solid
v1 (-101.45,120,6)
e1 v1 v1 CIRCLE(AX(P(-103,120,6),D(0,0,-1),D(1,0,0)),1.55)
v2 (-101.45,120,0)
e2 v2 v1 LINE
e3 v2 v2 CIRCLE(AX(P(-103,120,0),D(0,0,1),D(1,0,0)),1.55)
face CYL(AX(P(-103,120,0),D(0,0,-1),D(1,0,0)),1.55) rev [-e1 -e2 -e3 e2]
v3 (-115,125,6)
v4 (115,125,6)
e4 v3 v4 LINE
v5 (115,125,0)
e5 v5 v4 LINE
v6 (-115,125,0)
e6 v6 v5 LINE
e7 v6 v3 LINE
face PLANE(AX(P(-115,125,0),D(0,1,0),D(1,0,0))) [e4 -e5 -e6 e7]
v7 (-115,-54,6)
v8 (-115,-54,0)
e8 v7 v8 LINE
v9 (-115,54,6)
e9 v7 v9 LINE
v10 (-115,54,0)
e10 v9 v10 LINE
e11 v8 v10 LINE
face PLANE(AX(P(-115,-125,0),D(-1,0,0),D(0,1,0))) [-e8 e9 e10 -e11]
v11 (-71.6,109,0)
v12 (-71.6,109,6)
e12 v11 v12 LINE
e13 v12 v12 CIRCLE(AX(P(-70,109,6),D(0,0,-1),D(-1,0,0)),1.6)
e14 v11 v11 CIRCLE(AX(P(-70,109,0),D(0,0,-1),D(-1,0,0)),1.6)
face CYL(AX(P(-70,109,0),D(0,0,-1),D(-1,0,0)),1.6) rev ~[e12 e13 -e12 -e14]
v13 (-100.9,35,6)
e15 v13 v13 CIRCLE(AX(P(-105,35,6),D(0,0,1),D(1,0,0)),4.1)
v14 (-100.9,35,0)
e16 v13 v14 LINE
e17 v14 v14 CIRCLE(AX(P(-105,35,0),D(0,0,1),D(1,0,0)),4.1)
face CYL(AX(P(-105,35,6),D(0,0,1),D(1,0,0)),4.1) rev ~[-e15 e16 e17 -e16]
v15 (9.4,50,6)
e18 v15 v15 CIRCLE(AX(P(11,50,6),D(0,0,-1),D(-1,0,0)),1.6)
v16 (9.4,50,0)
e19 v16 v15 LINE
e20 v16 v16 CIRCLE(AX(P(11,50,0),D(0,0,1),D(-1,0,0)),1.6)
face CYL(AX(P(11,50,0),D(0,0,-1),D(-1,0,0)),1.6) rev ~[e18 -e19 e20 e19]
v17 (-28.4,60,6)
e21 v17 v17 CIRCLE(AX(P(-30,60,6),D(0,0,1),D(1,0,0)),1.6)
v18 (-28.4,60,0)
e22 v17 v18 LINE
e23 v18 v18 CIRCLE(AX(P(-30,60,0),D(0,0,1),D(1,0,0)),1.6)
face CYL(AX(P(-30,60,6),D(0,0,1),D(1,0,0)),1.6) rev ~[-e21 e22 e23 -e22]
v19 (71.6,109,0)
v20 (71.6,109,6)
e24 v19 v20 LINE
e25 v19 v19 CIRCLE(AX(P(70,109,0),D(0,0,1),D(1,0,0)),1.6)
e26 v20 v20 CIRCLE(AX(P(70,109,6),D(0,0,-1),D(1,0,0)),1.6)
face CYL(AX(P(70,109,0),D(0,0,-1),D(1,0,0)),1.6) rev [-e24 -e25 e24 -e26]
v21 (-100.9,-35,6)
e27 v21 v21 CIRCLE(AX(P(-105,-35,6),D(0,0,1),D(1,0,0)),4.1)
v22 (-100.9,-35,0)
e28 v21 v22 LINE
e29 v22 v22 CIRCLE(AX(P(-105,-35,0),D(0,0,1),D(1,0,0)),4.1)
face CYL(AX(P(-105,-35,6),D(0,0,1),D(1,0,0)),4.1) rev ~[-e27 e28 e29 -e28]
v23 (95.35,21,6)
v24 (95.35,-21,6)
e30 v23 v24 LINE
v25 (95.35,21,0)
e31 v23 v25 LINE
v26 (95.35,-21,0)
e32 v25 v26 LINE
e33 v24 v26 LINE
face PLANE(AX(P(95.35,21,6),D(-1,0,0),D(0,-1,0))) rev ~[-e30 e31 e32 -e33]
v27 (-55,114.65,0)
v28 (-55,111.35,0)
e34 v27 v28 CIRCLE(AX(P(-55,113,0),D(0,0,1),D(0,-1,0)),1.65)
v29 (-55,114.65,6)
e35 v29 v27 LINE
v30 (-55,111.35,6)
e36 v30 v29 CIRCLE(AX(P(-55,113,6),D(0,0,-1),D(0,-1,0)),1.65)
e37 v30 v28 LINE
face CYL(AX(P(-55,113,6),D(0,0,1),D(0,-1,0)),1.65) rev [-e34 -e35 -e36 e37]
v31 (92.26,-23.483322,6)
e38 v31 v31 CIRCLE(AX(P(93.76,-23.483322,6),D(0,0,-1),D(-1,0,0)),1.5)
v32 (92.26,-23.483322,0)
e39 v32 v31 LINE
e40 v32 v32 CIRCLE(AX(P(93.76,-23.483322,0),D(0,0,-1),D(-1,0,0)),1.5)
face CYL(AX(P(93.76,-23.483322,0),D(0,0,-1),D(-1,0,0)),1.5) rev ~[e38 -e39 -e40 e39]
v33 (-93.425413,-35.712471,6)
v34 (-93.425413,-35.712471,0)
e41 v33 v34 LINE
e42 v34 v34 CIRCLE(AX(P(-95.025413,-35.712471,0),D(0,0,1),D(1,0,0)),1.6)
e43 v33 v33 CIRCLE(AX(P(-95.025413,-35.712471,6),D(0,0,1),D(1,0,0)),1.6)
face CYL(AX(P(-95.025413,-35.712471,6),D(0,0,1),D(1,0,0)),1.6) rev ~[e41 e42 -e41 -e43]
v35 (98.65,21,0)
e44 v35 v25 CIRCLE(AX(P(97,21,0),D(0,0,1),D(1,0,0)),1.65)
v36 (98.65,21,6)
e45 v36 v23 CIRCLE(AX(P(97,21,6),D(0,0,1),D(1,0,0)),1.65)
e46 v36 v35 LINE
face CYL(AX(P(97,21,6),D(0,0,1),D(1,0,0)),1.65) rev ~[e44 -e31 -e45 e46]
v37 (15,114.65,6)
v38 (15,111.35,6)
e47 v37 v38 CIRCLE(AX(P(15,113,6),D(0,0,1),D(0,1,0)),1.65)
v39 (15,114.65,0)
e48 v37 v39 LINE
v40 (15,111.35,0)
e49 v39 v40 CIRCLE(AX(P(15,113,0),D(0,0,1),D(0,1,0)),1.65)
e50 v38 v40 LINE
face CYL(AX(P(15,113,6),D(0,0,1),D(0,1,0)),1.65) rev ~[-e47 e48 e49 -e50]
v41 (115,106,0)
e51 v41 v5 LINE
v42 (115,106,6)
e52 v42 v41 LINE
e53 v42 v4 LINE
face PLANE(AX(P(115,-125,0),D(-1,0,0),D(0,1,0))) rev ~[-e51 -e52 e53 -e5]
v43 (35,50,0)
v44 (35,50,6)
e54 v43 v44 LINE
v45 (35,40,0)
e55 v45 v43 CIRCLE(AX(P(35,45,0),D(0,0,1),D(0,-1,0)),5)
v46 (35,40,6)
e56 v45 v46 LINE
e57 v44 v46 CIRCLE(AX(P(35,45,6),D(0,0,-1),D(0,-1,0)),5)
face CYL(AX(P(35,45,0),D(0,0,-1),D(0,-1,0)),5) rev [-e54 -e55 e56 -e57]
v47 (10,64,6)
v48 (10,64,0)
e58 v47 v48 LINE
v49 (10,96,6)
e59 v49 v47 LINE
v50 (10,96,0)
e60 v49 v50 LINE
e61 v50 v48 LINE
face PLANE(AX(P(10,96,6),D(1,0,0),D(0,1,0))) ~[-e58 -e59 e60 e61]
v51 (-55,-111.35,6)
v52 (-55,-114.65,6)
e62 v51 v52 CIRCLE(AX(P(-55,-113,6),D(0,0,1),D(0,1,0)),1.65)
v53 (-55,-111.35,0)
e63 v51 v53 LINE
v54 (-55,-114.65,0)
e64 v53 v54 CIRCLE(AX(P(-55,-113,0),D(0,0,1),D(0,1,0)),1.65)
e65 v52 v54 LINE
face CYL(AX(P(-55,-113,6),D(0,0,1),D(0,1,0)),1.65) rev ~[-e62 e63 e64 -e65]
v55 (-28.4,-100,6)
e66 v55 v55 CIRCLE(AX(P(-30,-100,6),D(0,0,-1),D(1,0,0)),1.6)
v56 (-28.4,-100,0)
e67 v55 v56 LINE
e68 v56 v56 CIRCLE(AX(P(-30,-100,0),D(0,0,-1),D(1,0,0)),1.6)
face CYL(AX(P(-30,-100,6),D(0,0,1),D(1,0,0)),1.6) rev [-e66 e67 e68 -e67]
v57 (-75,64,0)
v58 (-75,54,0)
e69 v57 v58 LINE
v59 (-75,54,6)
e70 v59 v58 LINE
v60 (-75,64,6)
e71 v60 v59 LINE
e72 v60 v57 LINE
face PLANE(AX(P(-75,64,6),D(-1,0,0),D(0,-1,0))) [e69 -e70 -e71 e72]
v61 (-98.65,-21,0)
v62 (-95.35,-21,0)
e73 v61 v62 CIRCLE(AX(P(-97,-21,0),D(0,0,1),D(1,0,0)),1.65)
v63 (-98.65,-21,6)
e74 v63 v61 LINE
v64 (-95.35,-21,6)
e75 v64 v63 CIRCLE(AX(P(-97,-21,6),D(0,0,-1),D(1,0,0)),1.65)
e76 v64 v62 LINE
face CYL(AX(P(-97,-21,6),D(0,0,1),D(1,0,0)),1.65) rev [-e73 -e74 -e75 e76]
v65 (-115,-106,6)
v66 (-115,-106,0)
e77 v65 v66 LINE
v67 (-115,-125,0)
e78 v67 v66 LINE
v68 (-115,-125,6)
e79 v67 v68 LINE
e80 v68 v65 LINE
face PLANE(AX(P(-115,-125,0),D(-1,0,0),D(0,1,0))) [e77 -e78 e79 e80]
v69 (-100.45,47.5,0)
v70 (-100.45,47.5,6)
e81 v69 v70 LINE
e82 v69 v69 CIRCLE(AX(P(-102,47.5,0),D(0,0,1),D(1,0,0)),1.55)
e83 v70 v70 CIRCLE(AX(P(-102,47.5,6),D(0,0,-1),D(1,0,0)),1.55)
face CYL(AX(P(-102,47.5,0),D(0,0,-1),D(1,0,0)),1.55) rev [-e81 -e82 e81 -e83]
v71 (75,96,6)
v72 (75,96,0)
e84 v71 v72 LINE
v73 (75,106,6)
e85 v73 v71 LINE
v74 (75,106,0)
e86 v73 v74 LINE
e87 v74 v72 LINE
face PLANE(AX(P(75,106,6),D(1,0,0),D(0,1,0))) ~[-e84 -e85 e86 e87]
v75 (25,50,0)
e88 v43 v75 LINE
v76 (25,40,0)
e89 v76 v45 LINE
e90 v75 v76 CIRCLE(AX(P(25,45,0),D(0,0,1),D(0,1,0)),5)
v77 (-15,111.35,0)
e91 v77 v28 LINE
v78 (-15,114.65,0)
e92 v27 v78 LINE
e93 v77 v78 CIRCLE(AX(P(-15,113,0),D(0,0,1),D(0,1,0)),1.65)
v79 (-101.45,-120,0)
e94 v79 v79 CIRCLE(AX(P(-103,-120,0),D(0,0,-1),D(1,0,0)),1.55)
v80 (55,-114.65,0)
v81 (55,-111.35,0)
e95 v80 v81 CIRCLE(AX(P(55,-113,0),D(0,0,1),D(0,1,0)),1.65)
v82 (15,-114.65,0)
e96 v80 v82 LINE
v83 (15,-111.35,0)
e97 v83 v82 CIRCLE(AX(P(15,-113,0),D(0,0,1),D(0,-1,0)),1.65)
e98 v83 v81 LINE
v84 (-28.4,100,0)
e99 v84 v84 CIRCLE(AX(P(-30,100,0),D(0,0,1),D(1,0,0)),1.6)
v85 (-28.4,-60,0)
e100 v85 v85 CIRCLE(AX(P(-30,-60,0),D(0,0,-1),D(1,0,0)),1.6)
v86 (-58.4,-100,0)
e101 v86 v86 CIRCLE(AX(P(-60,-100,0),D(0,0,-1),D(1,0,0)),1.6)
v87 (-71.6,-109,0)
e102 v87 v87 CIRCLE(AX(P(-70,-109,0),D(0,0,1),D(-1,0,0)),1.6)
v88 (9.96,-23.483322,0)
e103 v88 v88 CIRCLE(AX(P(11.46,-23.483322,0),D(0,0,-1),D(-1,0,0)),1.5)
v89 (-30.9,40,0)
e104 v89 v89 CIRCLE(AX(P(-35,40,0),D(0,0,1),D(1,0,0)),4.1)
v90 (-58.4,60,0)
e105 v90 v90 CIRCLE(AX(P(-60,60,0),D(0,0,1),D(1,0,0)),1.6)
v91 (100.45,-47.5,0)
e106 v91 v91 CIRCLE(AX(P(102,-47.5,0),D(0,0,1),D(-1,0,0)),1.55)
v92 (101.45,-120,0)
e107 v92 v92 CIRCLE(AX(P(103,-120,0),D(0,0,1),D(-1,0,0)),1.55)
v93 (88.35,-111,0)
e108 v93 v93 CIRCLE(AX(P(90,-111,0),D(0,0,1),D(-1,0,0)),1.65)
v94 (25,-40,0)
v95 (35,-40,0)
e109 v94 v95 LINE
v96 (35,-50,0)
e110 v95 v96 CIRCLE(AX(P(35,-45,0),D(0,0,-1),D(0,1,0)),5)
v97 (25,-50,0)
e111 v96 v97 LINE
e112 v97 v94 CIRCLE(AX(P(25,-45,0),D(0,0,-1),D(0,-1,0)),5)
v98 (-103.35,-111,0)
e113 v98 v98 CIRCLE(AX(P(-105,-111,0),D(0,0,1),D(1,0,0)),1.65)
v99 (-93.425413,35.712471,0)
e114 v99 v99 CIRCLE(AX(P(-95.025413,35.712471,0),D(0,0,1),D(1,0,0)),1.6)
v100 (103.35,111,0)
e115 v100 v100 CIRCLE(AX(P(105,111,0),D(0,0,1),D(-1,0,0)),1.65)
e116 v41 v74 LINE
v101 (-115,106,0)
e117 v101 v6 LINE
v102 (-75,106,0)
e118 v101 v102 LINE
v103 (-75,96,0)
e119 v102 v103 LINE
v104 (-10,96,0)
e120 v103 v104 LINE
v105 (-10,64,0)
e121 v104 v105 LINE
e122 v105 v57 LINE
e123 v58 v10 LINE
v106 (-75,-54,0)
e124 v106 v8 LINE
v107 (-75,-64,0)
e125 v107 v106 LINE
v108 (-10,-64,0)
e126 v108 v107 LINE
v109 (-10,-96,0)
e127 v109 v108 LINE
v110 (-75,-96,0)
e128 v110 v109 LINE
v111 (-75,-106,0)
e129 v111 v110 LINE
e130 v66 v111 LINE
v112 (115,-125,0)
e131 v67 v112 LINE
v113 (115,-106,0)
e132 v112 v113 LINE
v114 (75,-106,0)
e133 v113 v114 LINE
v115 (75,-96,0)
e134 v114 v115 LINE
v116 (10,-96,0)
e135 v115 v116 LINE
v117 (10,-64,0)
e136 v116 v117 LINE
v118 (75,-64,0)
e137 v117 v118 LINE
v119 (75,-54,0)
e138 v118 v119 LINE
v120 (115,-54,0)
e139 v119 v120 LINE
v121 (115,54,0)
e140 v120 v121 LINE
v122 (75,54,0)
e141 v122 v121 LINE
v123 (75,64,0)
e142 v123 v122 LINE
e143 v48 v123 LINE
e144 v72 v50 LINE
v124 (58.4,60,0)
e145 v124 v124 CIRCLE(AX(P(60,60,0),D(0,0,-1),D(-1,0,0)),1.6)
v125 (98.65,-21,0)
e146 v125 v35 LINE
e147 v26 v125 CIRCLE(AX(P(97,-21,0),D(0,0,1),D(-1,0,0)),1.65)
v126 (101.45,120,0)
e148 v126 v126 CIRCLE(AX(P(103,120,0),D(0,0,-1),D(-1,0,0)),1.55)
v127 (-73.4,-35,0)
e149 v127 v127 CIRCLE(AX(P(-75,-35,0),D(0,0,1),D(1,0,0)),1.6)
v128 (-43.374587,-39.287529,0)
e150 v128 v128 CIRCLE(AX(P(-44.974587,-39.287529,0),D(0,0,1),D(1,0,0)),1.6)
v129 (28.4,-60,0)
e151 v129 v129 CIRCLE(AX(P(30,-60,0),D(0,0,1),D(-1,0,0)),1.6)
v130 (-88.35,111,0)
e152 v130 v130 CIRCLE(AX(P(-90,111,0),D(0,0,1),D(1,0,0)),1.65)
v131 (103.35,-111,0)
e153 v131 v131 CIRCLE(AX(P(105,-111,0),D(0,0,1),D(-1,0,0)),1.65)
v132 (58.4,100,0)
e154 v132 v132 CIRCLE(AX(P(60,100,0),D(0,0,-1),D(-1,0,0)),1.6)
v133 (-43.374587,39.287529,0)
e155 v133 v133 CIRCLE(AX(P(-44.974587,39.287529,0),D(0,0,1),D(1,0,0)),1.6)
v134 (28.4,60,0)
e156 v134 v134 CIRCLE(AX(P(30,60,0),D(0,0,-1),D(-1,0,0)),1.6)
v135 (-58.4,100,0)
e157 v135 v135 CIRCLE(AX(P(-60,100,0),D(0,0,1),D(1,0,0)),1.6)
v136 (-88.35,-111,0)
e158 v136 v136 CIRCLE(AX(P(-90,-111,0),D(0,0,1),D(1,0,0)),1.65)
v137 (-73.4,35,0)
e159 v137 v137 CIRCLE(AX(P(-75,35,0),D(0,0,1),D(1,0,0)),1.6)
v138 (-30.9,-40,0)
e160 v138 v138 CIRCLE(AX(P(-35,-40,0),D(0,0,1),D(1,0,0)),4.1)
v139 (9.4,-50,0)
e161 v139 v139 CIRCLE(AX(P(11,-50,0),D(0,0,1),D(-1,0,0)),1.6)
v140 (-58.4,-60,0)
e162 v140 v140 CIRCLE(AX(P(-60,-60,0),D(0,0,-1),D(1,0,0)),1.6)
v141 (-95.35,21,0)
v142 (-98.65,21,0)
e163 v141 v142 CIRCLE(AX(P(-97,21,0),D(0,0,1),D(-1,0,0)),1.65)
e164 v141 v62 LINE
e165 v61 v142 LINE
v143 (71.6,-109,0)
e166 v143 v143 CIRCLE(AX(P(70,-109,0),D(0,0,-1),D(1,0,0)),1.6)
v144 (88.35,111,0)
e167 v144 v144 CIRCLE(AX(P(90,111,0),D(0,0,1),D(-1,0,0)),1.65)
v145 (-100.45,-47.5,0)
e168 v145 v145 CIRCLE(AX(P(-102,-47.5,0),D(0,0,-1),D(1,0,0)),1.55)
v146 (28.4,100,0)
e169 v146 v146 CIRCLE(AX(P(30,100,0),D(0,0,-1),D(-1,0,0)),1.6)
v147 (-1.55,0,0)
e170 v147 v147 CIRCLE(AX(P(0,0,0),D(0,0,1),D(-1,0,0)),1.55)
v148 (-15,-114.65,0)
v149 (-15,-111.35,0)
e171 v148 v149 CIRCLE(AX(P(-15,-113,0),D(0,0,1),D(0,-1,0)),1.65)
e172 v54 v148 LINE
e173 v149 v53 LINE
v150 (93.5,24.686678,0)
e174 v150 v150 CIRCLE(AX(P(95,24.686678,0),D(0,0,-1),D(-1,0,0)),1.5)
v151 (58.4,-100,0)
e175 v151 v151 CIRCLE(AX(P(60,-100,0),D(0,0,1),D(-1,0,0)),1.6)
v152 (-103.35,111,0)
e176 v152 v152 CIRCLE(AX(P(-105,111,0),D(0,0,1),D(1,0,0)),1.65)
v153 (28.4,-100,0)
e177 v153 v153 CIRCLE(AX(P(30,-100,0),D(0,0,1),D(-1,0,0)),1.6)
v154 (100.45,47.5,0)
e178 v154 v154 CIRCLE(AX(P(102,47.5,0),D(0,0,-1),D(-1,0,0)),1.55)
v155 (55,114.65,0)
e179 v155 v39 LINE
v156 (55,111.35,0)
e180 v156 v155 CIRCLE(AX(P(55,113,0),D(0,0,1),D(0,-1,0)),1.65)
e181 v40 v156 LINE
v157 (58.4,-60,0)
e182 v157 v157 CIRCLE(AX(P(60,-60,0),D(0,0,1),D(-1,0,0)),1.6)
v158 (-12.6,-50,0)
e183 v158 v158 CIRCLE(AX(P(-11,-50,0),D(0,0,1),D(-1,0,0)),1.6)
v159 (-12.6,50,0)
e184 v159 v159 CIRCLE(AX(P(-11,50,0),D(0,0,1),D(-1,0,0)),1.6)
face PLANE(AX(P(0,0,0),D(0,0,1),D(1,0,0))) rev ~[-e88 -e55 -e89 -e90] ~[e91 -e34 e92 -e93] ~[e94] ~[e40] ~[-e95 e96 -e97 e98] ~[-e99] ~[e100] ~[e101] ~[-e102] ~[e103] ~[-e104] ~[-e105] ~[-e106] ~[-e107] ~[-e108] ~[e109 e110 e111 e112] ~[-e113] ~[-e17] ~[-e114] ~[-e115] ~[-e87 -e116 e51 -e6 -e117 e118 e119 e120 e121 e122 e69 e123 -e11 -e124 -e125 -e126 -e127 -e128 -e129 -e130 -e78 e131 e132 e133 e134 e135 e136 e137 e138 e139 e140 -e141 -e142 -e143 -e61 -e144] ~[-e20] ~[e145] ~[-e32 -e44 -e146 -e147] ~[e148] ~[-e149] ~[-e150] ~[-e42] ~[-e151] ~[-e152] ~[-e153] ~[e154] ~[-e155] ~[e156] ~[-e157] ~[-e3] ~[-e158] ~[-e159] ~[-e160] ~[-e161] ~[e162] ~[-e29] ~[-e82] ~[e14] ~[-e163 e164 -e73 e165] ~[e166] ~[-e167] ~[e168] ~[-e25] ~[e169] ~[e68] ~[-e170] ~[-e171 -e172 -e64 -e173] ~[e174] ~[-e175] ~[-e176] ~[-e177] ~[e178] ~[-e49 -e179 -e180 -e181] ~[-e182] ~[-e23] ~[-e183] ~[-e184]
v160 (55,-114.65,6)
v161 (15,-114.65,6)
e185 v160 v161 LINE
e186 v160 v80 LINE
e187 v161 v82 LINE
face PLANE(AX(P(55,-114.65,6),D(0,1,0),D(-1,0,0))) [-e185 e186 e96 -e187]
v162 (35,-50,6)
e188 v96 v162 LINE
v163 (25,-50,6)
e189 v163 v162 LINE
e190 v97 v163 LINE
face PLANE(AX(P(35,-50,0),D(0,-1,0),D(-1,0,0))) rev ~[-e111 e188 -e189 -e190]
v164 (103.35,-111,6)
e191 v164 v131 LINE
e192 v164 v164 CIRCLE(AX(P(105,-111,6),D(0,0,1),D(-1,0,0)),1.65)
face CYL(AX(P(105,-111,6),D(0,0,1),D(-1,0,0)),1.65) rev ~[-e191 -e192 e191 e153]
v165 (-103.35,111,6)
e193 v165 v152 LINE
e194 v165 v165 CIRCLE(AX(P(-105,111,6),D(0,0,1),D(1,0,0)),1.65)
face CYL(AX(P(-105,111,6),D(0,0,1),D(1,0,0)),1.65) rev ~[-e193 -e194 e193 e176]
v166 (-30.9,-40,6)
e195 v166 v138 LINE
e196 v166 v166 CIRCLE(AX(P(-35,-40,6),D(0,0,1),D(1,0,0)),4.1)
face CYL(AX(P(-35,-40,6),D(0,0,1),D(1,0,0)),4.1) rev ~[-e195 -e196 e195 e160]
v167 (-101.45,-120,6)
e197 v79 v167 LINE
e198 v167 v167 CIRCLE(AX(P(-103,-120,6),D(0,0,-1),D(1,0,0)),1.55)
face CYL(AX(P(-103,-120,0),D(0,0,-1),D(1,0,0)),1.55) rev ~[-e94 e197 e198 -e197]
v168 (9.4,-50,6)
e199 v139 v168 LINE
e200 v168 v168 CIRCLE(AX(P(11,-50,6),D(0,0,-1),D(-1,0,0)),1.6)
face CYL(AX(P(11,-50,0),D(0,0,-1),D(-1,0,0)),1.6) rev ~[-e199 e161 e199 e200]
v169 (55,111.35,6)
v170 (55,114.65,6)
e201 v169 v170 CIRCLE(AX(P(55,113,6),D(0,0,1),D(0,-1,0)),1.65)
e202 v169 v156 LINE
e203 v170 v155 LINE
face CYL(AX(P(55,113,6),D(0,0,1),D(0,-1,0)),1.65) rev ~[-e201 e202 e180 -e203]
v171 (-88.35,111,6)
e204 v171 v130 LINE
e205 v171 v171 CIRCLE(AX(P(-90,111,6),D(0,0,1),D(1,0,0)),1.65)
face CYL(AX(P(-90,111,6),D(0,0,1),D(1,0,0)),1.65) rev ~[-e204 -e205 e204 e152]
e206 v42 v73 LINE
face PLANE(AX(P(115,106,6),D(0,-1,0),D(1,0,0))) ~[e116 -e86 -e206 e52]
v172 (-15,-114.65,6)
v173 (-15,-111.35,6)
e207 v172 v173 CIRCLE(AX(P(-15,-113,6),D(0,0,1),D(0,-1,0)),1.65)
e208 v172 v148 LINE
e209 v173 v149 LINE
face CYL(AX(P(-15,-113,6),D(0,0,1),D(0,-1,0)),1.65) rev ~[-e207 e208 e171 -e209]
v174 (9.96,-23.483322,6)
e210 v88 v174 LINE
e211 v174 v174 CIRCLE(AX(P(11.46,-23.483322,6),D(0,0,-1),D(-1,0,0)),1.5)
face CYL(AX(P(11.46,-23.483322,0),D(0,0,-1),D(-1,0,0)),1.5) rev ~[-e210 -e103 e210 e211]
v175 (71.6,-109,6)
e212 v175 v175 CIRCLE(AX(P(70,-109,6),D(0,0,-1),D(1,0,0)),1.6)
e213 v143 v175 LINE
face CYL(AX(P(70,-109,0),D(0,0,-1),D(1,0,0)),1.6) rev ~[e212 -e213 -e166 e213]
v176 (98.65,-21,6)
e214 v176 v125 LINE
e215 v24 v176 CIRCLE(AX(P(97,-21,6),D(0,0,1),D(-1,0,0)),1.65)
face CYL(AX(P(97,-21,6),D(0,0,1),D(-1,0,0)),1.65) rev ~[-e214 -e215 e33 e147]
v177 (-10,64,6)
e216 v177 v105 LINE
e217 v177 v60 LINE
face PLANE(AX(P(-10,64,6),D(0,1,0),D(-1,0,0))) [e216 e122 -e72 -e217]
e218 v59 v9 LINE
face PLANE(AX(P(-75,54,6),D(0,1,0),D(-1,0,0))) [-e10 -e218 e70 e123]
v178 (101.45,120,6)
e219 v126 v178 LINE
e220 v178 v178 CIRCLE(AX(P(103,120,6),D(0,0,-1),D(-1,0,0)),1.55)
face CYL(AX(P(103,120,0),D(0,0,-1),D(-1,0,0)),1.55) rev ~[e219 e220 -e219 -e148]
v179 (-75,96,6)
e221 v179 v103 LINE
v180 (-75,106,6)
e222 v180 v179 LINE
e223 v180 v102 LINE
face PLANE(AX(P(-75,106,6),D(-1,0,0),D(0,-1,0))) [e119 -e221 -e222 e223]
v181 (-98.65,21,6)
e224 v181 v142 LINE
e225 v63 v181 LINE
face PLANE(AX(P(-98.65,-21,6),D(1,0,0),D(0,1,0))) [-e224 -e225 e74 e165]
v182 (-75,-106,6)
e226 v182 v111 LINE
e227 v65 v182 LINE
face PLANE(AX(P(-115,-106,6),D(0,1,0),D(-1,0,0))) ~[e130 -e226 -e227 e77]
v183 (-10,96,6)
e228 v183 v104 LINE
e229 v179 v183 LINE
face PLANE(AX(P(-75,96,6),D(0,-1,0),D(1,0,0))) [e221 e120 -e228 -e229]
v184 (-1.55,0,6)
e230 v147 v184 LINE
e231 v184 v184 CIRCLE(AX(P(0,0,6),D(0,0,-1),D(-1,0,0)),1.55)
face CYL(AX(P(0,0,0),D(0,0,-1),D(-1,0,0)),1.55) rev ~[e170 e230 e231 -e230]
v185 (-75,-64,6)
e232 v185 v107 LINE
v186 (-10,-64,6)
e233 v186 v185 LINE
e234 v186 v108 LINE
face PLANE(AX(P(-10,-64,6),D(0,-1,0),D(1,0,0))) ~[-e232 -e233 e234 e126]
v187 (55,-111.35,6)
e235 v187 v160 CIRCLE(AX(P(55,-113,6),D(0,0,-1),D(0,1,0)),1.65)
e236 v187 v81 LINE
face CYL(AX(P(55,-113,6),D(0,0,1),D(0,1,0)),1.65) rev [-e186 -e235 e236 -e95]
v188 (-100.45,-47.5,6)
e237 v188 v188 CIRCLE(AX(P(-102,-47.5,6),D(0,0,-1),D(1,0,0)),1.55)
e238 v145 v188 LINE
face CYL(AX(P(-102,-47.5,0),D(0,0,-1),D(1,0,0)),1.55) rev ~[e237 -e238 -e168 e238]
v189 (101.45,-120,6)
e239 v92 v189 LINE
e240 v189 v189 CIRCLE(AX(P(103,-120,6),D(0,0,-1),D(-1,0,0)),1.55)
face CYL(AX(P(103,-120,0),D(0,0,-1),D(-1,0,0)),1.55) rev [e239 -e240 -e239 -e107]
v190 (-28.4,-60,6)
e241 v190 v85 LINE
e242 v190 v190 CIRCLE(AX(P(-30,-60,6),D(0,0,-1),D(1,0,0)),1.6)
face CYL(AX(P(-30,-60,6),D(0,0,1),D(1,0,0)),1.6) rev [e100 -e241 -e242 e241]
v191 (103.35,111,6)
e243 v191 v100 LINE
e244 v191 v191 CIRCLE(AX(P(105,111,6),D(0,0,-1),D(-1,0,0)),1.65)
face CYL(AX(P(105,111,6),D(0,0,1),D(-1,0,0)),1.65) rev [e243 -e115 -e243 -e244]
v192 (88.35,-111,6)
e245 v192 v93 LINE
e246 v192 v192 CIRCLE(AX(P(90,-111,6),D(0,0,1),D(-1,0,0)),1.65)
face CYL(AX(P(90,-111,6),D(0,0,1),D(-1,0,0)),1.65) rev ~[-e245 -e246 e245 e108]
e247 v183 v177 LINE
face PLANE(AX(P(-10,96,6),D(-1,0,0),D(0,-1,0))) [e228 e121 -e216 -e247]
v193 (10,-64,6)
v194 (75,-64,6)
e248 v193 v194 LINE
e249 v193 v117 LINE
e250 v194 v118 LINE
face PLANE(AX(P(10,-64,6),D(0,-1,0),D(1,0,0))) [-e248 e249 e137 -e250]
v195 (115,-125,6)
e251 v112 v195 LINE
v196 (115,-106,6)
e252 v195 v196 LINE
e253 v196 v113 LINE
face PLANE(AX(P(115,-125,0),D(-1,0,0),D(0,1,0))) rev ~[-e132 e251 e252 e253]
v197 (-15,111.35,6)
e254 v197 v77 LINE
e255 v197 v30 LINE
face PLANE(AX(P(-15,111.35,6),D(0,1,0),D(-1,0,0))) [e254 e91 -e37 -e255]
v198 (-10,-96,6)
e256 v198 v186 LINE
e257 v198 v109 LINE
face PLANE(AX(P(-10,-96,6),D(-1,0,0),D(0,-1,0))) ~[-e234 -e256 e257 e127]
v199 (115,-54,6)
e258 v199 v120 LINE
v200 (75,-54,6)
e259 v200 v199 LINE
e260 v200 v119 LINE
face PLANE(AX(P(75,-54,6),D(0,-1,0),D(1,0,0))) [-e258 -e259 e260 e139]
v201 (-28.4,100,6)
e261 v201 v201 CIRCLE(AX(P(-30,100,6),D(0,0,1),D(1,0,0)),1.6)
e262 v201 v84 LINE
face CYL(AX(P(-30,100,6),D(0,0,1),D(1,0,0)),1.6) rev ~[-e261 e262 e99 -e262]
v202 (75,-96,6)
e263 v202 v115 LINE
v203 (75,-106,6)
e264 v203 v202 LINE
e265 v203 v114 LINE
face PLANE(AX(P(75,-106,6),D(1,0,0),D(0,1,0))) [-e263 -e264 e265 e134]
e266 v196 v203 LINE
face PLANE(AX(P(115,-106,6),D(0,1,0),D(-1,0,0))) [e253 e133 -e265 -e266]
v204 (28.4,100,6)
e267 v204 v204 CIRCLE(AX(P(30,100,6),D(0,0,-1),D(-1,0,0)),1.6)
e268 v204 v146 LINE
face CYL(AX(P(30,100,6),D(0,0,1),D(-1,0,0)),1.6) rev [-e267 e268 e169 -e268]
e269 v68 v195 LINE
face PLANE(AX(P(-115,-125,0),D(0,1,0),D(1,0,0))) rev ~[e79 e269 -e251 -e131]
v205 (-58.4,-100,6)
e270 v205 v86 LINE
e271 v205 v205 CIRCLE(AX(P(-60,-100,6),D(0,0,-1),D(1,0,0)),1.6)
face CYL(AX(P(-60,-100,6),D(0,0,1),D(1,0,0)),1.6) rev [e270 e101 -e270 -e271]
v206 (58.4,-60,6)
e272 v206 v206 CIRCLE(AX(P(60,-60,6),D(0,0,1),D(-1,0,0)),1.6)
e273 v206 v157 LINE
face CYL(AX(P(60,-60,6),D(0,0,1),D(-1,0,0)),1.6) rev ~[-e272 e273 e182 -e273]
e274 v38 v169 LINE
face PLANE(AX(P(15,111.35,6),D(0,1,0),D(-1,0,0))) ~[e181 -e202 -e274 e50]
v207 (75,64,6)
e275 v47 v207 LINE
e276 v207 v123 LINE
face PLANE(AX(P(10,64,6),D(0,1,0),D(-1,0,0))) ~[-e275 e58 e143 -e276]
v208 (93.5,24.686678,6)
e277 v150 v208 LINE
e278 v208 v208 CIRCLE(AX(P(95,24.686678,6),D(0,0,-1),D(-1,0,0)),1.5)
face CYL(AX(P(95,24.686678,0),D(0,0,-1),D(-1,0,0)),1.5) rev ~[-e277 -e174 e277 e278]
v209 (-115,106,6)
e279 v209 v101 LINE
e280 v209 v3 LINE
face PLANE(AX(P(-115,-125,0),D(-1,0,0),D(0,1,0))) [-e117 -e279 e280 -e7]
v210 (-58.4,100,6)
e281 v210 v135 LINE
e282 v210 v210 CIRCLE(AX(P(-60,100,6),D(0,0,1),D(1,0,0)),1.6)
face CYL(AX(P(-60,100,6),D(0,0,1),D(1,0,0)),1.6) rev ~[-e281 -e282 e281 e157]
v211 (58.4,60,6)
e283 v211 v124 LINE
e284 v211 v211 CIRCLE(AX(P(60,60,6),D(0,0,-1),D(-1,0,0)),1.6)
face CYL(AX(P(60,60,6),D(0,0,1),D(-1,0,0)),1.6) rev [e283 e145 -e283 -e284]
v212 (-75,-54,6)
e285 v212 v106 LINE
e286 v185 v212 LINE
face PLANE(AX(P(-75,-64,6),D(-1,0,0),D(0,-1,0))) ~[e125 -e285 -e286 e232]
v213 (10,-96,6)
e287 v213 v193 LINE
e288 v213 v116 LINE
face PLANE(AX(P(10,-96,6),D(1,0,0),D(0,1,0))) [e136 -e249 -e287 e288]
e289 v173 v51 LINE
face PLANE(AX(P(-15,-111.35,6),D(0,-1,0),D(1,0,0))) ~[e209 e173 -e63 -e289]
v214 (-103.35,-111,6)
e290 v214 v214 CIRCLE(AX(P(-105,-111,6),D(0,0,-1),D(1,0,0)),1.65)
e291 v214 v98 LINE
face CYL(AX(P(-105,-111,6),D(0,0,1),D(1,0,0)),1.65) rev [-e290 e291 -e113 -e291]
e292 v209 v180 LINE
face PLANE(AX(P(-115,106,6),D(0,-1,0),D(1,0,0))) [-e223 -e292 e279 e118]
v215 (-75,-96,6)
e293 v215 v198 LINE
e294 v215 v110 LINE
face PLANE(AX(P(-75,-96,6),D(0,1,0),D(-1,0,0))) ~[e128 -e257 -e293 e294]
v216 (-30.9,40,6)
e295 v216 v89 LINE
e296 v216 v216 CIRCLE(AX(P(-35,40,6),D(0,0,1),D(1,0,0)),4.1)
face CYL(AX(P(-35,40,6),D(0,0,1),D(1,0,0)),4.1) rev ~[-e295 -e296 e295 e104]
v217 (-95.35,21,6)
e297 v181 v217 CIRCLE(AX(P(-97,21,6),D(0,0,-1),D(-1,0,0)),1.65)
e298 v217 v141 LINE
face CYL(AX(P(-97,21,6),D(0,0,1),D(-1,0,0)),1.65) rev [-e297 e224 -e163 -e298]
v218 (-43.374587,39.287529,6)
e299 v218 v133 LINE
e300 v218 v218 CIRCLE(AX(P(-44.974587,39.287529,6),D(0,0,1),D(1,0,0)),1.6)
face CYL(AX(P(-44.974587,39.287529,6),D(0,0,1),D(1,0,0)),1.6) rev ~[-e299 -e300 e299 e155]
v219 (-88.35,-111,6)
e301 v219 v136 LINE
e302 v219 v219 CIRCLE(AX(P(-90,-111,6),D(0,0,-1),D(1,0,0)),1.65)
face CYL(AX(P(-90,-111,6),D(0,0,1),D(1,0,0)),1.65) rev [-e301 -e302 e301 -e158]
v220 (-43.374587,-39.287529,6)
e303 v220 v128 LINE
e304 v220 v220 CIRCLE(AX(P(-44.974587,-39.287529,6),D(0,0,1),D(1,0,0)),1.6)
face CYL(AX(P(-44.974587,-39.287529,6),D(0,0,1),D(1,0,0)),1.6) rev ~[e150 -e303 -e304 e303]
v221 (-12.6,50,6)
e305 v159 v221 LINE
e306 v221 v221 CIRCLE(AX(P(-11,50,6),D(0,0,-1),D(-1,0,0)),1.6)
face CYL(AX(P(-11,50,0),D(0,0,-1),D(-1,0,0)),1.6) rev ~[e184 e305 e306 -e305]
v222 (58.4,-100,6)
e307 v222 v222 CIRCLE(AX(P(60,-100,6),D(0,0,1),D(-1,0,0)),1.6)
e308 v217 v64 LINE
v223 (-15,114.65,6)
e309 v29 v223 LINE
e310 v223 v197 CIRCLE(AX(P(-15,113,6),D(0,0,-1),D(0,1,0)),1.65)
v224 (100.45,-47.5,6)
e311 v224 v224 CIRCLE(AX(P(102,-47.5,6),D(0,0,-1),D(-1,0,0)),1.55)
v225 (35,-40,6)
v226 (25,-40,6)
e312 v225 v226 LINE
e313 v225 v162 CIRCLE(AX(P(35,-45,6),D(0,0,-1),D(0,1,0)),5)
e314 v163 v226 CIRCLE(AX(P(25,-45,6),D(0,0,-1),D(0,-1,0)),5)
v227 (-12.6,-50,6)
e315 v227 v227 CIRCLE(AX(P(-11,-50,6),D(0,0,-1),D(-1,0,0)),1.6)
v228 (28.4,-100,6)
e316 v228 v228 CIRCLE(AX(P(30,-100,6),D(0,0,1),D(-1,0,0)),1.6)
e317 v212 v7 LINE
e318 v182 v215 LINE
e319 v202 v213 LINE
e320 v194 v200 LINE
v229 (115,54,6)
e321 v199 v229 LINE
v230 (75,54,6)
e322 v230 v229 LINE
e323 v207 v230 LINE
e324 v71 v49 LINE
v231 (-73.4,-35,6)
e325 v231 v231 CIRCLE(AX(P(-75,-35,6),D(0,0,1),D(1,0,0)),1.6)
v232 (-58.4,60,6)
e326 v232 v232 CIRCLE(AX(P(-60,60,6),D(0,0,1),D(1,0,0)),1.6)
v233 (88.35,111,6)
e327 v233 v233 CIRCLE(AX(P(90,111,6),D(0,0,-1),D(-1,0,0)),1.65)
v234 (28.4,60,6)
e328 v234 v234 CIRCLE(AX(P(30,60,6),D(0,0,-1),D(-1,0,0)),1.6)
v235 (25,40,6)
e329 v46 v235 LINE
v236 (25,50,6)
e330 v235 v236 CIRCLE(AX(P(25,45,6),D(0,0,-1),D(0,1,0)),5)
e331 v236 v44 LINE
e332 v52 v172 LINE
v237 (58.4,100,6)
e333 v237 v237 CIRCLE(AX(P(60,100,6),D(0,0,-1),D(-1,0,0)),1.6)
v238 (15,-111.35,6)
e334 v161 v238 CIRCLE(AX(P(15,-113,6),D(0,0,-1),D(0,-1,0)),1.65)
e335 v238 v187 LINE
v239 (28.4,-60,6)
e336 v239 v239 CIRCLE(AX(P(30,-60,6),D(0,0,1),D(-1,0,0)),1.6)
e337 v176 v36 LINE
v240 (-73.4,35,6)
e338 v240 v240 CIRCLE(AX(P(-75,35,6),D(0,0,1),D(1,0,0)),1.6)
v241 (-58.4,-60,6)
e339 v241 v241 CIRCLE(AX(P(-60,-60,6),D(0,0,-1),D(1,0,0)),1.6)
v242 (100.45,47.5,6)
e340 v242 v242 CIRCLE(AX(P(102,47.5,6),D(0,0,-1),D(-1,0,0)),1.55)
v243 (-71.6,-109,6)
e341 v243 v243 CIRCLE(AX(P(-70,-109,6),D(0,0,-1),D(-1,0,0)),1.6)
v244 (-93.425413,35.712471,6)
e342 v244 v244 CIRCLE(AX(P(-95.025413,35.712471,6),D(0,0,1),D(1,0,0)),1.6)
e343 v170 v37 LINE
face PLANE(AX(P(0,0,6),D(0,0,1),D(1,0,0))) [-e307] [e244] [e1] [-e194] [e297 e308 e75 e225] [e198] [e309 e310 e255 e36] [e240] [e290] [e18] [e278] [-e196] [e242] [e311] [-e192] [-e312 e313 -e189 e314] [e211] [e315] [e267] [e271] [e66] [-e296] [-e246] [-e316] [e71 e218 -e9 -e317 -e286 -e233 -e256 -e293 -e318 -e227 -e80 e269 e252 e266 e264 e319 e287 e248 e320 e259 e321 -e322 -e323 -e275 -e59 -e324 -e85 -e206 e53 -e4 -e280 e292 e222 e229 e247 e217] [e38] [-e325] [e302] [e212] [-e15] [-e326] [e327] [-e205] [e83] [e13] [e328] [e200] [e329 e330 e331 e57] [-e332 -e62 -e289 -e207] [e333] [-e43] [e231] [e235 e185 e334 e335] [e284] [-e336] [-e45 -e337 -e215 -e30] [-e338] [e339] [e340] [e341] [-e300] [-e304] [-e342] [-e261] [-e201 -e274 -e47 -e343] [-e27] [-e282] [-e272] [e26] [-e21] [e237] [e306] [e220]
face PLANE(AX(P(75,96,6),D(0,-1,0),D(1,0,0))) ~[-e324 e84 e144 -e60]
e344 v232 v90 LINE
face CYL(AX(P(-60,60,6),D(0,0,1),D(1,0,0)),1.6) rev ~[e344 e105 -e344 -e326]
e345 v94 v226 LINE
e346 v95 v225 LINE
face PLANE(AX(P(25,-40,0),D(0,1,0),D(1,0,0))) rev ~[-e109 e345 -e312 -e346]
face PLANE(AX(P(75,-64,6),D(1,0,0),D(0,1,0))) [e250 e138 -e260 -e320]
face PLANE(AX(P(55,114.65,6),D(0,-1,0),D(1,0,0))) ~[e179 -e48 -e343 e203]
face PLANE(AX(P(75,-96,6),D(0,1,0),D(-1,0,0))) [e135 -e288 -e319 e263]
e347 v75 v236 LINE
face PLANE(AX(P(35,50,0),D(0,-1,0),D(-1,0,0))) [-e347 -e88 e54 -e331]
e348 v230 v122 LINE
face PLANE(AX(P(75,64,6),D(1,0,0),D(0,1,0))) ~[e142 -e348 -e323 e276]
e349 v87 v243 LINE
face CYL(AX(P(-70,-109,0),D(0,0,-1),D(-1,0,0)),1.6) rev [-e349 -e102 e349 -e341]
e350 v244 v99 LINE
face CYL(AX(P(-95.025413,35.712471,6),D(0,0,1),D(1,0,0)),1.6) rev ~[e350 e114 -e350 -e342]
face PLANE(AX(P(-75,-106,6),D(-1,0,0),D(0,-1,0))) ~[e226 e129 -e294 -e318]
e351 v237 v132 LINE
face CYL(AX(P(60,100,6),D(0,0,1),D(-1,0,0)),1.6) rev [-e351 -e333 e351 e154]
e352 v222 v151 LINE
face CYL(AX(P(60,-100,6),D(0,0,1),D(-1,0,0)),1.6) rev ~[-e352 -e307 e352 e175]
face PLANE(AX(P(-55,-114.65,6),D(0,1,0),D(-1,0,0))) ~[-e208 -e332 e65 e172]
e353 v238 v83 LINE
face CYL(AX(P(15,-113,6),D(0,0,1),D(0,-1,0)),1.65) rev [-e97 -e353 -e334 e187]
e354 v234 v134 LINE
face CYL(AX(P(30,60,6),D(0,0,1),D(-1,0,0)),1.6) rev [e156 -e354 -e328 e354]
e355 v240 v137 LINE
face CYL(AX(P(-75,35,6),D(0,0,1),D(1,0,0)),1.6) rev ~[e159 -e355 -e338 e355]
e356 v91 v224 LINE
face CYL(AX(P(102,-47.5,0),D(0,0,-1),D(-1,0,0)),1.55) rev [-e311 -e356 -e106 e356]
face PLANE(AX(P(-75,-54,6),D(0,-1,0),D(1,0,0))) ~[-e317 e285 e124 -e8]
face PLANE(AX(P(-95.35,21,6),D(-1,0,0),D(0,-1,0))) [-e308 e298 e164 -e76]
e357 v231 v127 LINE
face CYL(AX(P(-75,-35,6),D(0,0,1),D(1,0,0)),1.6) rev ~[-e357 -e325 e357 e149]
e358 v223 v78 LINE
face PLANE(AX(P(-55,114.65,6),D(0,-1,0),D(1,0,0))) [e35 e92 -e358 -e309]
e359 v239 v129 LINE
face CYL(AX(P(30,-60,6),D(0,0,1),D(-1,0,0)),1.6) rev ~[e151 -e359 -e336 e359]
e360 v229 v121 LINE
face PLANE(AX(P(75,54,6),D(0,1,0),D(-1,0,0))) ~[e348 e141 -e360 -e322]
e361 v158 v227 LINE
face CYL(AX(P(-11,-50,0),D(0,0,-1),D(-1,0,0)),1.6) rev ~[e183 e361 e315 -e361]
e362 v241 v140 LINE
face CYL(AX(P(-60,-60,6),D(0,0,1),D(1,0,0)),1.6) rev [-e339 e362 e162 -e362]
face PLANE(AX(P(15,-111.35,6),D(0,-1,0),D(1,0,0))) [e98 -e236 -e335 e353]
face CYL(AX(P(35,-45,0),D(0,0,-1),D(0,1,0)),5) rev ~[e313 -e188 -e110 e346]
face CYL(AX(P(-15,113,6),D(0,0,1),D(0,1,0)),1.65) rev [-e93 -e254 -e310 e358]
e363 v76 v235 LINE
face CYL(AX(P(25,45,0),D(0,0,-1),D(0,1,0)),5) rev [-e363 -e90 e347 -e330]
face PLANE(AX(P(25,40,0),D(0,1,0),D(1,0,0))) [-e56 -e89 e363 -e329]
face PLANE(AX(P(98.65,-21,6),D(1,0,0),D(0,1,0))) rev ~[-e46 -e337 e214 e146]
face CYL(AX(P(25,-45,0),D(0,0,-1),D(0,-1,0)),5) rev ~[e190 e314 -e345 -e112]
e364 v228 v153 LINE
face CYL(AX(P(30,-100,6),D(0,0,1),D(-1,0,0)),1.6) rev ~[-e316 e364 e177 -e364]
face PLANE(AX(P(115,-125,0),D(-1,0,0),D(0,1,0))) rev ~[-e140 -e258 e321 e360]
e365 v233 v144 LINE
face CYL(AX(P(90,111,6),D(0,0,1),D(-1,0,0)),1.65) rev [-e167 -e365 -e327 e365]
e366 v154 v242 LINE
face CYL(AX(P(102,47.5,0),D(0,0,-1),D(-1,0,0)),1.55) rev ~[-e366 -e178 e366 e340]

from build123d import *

# Parameters (mm, degrees)
ESBO_O1_W                   = 230
ESBO_O1_H                   = 250
RESSALTO_EXTRUS_O1_DEPTH    = 6
ESBO_O2_R                   = 1.6
MOTOR_DEPTH                 = 6
ESBO_O4_R                   = 4.1
ESBO_O4_R_2                 = 1.6
GARRA_DEPTH                 = 10
ESBO_O7_R                   = 1.65
SENSORES_FRONTAIS_DEPTH     = 10
ESBO_O5_R                   = 1.6
ESBO_O5_R_2                 = 1.55
MAOS_FRANCESAS_DEPTH        = 10
ESPELHAR2_COPY_1_SKETCH_R   = 1.6
ESPELHAR2_COPY_1_DEPTH      = 6
ESPELHAR2_COPY_2_SKETCH_R   = 1.65
ESPELHAR2_COPY_2_DEPTH      = 10
ESPELHAR2_COPY_3_SKETCH_R   = 1.6
ESPELHAR2_COPY_3_SKETCH_R_2 = 1.55
ESPELHAR2_COPY_3_DEPTH      = 10
SENSORES_LATERAIS_DEPTH     = 10
FIOS_DEPTH                  = 10
ESBO_O10_R                  = 1.5
CORTE_EXTRUS_O7_DEPTH       = 10


with BuildPart() as part:
    # Esboço1 → Ressalto-extrusão1 (new body)
    with BuildSketch(Plane.XY):
        Rectangle(ESBO_O1_W, ESBO_O1_H)
    extrude(amount=RESSALTO_EXTRUS_O1_DEPTH)

    # Esboço2 → motor (cut)
    with BuildSketch(Plane.XY.offset(6)):
        with Locations((-60, 100)):
            Circle(ESBO_O2_R)
        with Locations((-30, 100)):
            Circle(ESBO_O2_R)
        with Locations((-30, 60)):
            Circle(ESBO_O2_R)
        with Locations((-60, 60)):
            Circle(ESBO_O2_R)
        Polygon((-75, 64), (-75, 54), (-115, 54), (-115, 106), (-75, 106), (-75, 96), (-10, 96), (-10, 64), align=None)
    motor = extrude(amount=-MOTOR_DEPTH, mode=Mode.SUBTRACT)

    # Esboço4 → garra (cut)
    with BuildSketch(Plane.XY.offset(6)):
        with Locations((-105, 35)):
            Circle(ESBO_O4_R)
        with Locations((-44.974586998, 39.2875295)):
            Circle(ESBO_O4_R_2)
        with Locations((-95.025413002, 35.7124705)):
            Circle(ESBO_O4_R_2)
        with Locations((-35, 40)):
            Circle(ESBO_O4_R)
        with Locations((-44.974586998, -39.2875295)):
            Circle(ESBO_O4_R_2)
        with Locations((-35, -40)):
            Circle(ESBO_O4_R)
        with Locations((-95.025413002, -35.7124705)):
            Circle(ESBO_O4_R_2)
        with Locations((-105, -35)):
            Circle(ESBO_O4_R)
        with Locations((-75, 35)):
            Circle(ESBO_O4_R_2)
        with Locations((-75, -35)):
            Circle(ESBO_O4_R_2)
    extrude(amount=-GARRA_DEPTH, mode=Mode.SUBTRACT)

    # Esboço7 → sensores frontais (cut)
    with BuildSketch(Plane.XY.offset(6)):
        with Locations((-105, 111)):
            Circle(ESBO_O7_R)
        with Locations((-90, 111)):
            Circle(ESBO_O7_R)
        with BuildLine():
            Line((-15, 111.35), (-55, 111.35))
            ThreePointArc((-55, 111.35), (-56.65, 113), (-55, 114.65))
            Line((-55, 114.65), (-15, 114.65))
            ThreePointArc((-15, 114.65), (-13.35, 113), (-15, 111.35))
        make_face()
    sensores_frontais = extrude(amount=-SENSORES_FRONTAIS_DEPTH, mode=Mode.SUBTRACT)

    # Esboço5 → maos francesas (cut)
    with BuildSketch(Plane(origin=(0, 0, 0), x_dir=(-1, 0, 0), z_dir=(0, 0, -1))):
        with Locations((70, 109)):
            Circle(ESBO_O5_R)
        with Locations((-102, 47.5)):
            Circle(ESBO_O5_R_2)
        with Locations((-103, 120)):
            Circle(ESBO_O5_R_2)
        with Locations((11, 50)):
            Circle(ESBO_O5_R)
        Circle(ESBO_O5_R_2)
        with Locations((-11, 50)):
            Circle(ESBO_O5_R)
        with Locations((-11, -50)):
            Circle(ESBO_O5_R)
        with Locations((11, -50)):
            Circle(ESBO_O5_R)
    maos_francesas = extrude(amount=-MAOS_FRANCESAS_DEPTH, mode=Mode.SUBTRACT)

    # Espelhar1: motor, sensores frontais, maos francesas across plane
    add(motor.mirror(Plane(origin=(0, 0, 0), x_dir=(0, 0, 1), z_dir=(1, 0, 0))), mode=Mode.SUBTRACT)
    add(sensores_frontais.mirror(Plane(origin=(0, 0, 0), x_dir=(0, 0, 1), z_dir=(1, 0, 0))), mode=Mode.SUBTRACT)
    add(maos_francesas.mirror(Plane(origin=(0, 0, 0), x_dir=(0, 0, 1), z_dir=(1, 0, 0))), mode=Mode.SUBTRACT)

    # Espelhar2: motor, sensores frontais, maos francesas across plane
    add(motor.mirror(Plane.ZX), mode=Mode.SUBTRACT)
    add(sensores_frontais.mirror(Plane.ZX), mode=Mode.SUBTRACT)
    add(maos_francesas.mirror(Plane.ZX), mode=Mode.SUBTRACT)

    # Espelhar2 copy 1 sketch → Espelhar2 copy 1 (cut)
    with BuildSketch(Plane(origin=(0, 0, 6), x_dir=(-1, 0, 0), z_dir=(0, 0, 1))):
        with Locations((-60, 100)):
            Circle(ESPELHAR2_COPY_1_SKETCH_R)
        with Locations((-30, 100)):
            Circle(ESPELHAR2_COPY_1_SKETCH_R)
        with Locations((-30, 60)):
            Circle(ESPELHAR2_COPY_1_SKETCH_R)
        with Locations((-60, 60)):
            Circle(ESPELHAR2_COPY_1_SKETCH_R)
        Polygon((-75, 64), (-75, 54), (-115, 54), (-115, 106), (-75, 106), (-75, 96), (-10, 96), (-10, 64), align=None)
    extrude(amount=-ESPELHAR2_COPY_1_DEPTH, mode=Mode.SUBTRACT)

    # Espelhar2 copy 2 sketch → Espelhar2 copy 2 (cut)
    with BuildSketch(Plane(origin=(0, 0, 6), x_dir=(-1, 0, 0), z_dir=(0, 0, 1))):
        with Locations((-105, 111)):
            Circle(ESPELHAR2_COPY_2_SKETCH_R)
        with Locations((-90, 111)):
            Circle(ESPELHAR2_COPY_2_SKETCH_R)
        with BuildLine():
            Line((-15, 111.35), (-55, 111.35))
            ThreePointArc((-55, 111.35), (-56.65, 113), (-55, 114.65))
            Line((-55, 114.65), (-15, 114.65))
            ThreePointArc((-15, 114.65), (-13.35, 113), (-15, 111.35))
        make_face()
    extrude(amount=-ESPELHAR2_COPY_2_DEPTH, mode=Mode.SUBTRACT)

    # Espelhar2 copy 3 sketch → Espelhar2 copy 3 (cut)
    with BuildSketch(Plane(origin=(0, 0, 0), x_dir=(1, 0, 0), z_dir=(0, 0, -1))):
        with Locations((70, 109)):
            Circle(ESPELHAR2_COPY_3_SKETCH_R)
        with Locations((-102, 47.5)):
            Circle(ESPELHAR2_COPY_3_SKETCH_R_2)
        with Locations((-103, 120)):
            Circle(ESPELHAR2_COPY_3_SKETCH_R_2)
        with Locations((11, 50)):
            Circle(ESPELHAR2_COPY_3_SKETCH_R)
        Circle(ESPELHAR2_COPY_3_SKETCH_R_2)
        with Locations((-11, 50)):
            Circle(ESPELHAR2_COPY_3_SKETCH_R)
        with Locations((-11, -50)):
            Circle(ESPELHAR2_COPY_3_SKETCH_R)
        with Locations((11, -50)):
            Circle(ESPELHAR2_COPY_3_SKETCH_R)
    extrude(amount=-ESPELHAR2_COPY_3_DEPTH, mode=Mode.SUBTRACT)

    # Esboço8 → Sensores laterais (cut)
    with BuildSketch(Plane.XY.offset(6)):
        with BuildLine():
            Line((-98.65, -21), (-98.65, 21))
            ThreePointArc((-98.65, 21), (-97, 22.65), (-95.35, 21))
            Line((-95.35, 21), (-95.35, -21))
            ThreePointArc((-95.35, -21), (-97, -22.65), (-98.65, -21))
        make_face()
        with BuildLine():
            Line((98.65, -21), (98.65, 21))
            ThreePointArc((98.65, 21), (97, 22.65), (95.35, 21))
            Line((95.35, 21), (95.35, -21))
            ThreePointArc((95.35, -21), (97, -22.65), (98.65, -21))
        make_face()
    extrude(amount=-SENSORES_LATERAIS_DEPTH, mode=Mode.SUBTRACT)

    # Esboço9 → Fios (cut)
    with BuildSketch(Plane(origin=(0, 0, 0), x_dir=(-1, 0, 0), z_dir=(0, 0, -1))):
        with BuildLine():
            Line((-35, 50), (-25, 50))
            ThreePointArc((-25, 50), (-20, 45), (-25, 40))
            Line((-25, 40), (-35, 40))
            ThreePointArc((-35, 40), (-40, 45), (-35, 50))
        make_face()
        with BuildLine():
            Line((-35, -50), (-25, -50))
            ThreePointArc((-25, -50), (-20, -45), (-25, -40))
            Line((-25, -40), (-35, -40))
            ThreePointArc((-35, -40), (-40, -45), (-35, -50))
        make_face()
    extrude(amount=-FIOS_DEPTH, mode=Mode.SUBTRACT)

    # Esboço10 → Corte-extrusão7 (cut)
    with BuildSketch(Plane(origin=(0, 0, 0), x_dir=(-1, 0, 0), z_dir=(0, 0, -1))):
        with Locations((-95, 24.686677652)):
            Circle(ESBO_O10_R)
        with Locations((-93.76, -23.483322348)):
            Circle(ESBO_O10_R)
        with Locations((-11.46, -23.483322348)):
            Circle(ESBO_O10_R)
    extrude(amount=-CORTE_EXTRUS_O7_DEPTH, mode=Mode.SUBTRACT)


solid = part.part
